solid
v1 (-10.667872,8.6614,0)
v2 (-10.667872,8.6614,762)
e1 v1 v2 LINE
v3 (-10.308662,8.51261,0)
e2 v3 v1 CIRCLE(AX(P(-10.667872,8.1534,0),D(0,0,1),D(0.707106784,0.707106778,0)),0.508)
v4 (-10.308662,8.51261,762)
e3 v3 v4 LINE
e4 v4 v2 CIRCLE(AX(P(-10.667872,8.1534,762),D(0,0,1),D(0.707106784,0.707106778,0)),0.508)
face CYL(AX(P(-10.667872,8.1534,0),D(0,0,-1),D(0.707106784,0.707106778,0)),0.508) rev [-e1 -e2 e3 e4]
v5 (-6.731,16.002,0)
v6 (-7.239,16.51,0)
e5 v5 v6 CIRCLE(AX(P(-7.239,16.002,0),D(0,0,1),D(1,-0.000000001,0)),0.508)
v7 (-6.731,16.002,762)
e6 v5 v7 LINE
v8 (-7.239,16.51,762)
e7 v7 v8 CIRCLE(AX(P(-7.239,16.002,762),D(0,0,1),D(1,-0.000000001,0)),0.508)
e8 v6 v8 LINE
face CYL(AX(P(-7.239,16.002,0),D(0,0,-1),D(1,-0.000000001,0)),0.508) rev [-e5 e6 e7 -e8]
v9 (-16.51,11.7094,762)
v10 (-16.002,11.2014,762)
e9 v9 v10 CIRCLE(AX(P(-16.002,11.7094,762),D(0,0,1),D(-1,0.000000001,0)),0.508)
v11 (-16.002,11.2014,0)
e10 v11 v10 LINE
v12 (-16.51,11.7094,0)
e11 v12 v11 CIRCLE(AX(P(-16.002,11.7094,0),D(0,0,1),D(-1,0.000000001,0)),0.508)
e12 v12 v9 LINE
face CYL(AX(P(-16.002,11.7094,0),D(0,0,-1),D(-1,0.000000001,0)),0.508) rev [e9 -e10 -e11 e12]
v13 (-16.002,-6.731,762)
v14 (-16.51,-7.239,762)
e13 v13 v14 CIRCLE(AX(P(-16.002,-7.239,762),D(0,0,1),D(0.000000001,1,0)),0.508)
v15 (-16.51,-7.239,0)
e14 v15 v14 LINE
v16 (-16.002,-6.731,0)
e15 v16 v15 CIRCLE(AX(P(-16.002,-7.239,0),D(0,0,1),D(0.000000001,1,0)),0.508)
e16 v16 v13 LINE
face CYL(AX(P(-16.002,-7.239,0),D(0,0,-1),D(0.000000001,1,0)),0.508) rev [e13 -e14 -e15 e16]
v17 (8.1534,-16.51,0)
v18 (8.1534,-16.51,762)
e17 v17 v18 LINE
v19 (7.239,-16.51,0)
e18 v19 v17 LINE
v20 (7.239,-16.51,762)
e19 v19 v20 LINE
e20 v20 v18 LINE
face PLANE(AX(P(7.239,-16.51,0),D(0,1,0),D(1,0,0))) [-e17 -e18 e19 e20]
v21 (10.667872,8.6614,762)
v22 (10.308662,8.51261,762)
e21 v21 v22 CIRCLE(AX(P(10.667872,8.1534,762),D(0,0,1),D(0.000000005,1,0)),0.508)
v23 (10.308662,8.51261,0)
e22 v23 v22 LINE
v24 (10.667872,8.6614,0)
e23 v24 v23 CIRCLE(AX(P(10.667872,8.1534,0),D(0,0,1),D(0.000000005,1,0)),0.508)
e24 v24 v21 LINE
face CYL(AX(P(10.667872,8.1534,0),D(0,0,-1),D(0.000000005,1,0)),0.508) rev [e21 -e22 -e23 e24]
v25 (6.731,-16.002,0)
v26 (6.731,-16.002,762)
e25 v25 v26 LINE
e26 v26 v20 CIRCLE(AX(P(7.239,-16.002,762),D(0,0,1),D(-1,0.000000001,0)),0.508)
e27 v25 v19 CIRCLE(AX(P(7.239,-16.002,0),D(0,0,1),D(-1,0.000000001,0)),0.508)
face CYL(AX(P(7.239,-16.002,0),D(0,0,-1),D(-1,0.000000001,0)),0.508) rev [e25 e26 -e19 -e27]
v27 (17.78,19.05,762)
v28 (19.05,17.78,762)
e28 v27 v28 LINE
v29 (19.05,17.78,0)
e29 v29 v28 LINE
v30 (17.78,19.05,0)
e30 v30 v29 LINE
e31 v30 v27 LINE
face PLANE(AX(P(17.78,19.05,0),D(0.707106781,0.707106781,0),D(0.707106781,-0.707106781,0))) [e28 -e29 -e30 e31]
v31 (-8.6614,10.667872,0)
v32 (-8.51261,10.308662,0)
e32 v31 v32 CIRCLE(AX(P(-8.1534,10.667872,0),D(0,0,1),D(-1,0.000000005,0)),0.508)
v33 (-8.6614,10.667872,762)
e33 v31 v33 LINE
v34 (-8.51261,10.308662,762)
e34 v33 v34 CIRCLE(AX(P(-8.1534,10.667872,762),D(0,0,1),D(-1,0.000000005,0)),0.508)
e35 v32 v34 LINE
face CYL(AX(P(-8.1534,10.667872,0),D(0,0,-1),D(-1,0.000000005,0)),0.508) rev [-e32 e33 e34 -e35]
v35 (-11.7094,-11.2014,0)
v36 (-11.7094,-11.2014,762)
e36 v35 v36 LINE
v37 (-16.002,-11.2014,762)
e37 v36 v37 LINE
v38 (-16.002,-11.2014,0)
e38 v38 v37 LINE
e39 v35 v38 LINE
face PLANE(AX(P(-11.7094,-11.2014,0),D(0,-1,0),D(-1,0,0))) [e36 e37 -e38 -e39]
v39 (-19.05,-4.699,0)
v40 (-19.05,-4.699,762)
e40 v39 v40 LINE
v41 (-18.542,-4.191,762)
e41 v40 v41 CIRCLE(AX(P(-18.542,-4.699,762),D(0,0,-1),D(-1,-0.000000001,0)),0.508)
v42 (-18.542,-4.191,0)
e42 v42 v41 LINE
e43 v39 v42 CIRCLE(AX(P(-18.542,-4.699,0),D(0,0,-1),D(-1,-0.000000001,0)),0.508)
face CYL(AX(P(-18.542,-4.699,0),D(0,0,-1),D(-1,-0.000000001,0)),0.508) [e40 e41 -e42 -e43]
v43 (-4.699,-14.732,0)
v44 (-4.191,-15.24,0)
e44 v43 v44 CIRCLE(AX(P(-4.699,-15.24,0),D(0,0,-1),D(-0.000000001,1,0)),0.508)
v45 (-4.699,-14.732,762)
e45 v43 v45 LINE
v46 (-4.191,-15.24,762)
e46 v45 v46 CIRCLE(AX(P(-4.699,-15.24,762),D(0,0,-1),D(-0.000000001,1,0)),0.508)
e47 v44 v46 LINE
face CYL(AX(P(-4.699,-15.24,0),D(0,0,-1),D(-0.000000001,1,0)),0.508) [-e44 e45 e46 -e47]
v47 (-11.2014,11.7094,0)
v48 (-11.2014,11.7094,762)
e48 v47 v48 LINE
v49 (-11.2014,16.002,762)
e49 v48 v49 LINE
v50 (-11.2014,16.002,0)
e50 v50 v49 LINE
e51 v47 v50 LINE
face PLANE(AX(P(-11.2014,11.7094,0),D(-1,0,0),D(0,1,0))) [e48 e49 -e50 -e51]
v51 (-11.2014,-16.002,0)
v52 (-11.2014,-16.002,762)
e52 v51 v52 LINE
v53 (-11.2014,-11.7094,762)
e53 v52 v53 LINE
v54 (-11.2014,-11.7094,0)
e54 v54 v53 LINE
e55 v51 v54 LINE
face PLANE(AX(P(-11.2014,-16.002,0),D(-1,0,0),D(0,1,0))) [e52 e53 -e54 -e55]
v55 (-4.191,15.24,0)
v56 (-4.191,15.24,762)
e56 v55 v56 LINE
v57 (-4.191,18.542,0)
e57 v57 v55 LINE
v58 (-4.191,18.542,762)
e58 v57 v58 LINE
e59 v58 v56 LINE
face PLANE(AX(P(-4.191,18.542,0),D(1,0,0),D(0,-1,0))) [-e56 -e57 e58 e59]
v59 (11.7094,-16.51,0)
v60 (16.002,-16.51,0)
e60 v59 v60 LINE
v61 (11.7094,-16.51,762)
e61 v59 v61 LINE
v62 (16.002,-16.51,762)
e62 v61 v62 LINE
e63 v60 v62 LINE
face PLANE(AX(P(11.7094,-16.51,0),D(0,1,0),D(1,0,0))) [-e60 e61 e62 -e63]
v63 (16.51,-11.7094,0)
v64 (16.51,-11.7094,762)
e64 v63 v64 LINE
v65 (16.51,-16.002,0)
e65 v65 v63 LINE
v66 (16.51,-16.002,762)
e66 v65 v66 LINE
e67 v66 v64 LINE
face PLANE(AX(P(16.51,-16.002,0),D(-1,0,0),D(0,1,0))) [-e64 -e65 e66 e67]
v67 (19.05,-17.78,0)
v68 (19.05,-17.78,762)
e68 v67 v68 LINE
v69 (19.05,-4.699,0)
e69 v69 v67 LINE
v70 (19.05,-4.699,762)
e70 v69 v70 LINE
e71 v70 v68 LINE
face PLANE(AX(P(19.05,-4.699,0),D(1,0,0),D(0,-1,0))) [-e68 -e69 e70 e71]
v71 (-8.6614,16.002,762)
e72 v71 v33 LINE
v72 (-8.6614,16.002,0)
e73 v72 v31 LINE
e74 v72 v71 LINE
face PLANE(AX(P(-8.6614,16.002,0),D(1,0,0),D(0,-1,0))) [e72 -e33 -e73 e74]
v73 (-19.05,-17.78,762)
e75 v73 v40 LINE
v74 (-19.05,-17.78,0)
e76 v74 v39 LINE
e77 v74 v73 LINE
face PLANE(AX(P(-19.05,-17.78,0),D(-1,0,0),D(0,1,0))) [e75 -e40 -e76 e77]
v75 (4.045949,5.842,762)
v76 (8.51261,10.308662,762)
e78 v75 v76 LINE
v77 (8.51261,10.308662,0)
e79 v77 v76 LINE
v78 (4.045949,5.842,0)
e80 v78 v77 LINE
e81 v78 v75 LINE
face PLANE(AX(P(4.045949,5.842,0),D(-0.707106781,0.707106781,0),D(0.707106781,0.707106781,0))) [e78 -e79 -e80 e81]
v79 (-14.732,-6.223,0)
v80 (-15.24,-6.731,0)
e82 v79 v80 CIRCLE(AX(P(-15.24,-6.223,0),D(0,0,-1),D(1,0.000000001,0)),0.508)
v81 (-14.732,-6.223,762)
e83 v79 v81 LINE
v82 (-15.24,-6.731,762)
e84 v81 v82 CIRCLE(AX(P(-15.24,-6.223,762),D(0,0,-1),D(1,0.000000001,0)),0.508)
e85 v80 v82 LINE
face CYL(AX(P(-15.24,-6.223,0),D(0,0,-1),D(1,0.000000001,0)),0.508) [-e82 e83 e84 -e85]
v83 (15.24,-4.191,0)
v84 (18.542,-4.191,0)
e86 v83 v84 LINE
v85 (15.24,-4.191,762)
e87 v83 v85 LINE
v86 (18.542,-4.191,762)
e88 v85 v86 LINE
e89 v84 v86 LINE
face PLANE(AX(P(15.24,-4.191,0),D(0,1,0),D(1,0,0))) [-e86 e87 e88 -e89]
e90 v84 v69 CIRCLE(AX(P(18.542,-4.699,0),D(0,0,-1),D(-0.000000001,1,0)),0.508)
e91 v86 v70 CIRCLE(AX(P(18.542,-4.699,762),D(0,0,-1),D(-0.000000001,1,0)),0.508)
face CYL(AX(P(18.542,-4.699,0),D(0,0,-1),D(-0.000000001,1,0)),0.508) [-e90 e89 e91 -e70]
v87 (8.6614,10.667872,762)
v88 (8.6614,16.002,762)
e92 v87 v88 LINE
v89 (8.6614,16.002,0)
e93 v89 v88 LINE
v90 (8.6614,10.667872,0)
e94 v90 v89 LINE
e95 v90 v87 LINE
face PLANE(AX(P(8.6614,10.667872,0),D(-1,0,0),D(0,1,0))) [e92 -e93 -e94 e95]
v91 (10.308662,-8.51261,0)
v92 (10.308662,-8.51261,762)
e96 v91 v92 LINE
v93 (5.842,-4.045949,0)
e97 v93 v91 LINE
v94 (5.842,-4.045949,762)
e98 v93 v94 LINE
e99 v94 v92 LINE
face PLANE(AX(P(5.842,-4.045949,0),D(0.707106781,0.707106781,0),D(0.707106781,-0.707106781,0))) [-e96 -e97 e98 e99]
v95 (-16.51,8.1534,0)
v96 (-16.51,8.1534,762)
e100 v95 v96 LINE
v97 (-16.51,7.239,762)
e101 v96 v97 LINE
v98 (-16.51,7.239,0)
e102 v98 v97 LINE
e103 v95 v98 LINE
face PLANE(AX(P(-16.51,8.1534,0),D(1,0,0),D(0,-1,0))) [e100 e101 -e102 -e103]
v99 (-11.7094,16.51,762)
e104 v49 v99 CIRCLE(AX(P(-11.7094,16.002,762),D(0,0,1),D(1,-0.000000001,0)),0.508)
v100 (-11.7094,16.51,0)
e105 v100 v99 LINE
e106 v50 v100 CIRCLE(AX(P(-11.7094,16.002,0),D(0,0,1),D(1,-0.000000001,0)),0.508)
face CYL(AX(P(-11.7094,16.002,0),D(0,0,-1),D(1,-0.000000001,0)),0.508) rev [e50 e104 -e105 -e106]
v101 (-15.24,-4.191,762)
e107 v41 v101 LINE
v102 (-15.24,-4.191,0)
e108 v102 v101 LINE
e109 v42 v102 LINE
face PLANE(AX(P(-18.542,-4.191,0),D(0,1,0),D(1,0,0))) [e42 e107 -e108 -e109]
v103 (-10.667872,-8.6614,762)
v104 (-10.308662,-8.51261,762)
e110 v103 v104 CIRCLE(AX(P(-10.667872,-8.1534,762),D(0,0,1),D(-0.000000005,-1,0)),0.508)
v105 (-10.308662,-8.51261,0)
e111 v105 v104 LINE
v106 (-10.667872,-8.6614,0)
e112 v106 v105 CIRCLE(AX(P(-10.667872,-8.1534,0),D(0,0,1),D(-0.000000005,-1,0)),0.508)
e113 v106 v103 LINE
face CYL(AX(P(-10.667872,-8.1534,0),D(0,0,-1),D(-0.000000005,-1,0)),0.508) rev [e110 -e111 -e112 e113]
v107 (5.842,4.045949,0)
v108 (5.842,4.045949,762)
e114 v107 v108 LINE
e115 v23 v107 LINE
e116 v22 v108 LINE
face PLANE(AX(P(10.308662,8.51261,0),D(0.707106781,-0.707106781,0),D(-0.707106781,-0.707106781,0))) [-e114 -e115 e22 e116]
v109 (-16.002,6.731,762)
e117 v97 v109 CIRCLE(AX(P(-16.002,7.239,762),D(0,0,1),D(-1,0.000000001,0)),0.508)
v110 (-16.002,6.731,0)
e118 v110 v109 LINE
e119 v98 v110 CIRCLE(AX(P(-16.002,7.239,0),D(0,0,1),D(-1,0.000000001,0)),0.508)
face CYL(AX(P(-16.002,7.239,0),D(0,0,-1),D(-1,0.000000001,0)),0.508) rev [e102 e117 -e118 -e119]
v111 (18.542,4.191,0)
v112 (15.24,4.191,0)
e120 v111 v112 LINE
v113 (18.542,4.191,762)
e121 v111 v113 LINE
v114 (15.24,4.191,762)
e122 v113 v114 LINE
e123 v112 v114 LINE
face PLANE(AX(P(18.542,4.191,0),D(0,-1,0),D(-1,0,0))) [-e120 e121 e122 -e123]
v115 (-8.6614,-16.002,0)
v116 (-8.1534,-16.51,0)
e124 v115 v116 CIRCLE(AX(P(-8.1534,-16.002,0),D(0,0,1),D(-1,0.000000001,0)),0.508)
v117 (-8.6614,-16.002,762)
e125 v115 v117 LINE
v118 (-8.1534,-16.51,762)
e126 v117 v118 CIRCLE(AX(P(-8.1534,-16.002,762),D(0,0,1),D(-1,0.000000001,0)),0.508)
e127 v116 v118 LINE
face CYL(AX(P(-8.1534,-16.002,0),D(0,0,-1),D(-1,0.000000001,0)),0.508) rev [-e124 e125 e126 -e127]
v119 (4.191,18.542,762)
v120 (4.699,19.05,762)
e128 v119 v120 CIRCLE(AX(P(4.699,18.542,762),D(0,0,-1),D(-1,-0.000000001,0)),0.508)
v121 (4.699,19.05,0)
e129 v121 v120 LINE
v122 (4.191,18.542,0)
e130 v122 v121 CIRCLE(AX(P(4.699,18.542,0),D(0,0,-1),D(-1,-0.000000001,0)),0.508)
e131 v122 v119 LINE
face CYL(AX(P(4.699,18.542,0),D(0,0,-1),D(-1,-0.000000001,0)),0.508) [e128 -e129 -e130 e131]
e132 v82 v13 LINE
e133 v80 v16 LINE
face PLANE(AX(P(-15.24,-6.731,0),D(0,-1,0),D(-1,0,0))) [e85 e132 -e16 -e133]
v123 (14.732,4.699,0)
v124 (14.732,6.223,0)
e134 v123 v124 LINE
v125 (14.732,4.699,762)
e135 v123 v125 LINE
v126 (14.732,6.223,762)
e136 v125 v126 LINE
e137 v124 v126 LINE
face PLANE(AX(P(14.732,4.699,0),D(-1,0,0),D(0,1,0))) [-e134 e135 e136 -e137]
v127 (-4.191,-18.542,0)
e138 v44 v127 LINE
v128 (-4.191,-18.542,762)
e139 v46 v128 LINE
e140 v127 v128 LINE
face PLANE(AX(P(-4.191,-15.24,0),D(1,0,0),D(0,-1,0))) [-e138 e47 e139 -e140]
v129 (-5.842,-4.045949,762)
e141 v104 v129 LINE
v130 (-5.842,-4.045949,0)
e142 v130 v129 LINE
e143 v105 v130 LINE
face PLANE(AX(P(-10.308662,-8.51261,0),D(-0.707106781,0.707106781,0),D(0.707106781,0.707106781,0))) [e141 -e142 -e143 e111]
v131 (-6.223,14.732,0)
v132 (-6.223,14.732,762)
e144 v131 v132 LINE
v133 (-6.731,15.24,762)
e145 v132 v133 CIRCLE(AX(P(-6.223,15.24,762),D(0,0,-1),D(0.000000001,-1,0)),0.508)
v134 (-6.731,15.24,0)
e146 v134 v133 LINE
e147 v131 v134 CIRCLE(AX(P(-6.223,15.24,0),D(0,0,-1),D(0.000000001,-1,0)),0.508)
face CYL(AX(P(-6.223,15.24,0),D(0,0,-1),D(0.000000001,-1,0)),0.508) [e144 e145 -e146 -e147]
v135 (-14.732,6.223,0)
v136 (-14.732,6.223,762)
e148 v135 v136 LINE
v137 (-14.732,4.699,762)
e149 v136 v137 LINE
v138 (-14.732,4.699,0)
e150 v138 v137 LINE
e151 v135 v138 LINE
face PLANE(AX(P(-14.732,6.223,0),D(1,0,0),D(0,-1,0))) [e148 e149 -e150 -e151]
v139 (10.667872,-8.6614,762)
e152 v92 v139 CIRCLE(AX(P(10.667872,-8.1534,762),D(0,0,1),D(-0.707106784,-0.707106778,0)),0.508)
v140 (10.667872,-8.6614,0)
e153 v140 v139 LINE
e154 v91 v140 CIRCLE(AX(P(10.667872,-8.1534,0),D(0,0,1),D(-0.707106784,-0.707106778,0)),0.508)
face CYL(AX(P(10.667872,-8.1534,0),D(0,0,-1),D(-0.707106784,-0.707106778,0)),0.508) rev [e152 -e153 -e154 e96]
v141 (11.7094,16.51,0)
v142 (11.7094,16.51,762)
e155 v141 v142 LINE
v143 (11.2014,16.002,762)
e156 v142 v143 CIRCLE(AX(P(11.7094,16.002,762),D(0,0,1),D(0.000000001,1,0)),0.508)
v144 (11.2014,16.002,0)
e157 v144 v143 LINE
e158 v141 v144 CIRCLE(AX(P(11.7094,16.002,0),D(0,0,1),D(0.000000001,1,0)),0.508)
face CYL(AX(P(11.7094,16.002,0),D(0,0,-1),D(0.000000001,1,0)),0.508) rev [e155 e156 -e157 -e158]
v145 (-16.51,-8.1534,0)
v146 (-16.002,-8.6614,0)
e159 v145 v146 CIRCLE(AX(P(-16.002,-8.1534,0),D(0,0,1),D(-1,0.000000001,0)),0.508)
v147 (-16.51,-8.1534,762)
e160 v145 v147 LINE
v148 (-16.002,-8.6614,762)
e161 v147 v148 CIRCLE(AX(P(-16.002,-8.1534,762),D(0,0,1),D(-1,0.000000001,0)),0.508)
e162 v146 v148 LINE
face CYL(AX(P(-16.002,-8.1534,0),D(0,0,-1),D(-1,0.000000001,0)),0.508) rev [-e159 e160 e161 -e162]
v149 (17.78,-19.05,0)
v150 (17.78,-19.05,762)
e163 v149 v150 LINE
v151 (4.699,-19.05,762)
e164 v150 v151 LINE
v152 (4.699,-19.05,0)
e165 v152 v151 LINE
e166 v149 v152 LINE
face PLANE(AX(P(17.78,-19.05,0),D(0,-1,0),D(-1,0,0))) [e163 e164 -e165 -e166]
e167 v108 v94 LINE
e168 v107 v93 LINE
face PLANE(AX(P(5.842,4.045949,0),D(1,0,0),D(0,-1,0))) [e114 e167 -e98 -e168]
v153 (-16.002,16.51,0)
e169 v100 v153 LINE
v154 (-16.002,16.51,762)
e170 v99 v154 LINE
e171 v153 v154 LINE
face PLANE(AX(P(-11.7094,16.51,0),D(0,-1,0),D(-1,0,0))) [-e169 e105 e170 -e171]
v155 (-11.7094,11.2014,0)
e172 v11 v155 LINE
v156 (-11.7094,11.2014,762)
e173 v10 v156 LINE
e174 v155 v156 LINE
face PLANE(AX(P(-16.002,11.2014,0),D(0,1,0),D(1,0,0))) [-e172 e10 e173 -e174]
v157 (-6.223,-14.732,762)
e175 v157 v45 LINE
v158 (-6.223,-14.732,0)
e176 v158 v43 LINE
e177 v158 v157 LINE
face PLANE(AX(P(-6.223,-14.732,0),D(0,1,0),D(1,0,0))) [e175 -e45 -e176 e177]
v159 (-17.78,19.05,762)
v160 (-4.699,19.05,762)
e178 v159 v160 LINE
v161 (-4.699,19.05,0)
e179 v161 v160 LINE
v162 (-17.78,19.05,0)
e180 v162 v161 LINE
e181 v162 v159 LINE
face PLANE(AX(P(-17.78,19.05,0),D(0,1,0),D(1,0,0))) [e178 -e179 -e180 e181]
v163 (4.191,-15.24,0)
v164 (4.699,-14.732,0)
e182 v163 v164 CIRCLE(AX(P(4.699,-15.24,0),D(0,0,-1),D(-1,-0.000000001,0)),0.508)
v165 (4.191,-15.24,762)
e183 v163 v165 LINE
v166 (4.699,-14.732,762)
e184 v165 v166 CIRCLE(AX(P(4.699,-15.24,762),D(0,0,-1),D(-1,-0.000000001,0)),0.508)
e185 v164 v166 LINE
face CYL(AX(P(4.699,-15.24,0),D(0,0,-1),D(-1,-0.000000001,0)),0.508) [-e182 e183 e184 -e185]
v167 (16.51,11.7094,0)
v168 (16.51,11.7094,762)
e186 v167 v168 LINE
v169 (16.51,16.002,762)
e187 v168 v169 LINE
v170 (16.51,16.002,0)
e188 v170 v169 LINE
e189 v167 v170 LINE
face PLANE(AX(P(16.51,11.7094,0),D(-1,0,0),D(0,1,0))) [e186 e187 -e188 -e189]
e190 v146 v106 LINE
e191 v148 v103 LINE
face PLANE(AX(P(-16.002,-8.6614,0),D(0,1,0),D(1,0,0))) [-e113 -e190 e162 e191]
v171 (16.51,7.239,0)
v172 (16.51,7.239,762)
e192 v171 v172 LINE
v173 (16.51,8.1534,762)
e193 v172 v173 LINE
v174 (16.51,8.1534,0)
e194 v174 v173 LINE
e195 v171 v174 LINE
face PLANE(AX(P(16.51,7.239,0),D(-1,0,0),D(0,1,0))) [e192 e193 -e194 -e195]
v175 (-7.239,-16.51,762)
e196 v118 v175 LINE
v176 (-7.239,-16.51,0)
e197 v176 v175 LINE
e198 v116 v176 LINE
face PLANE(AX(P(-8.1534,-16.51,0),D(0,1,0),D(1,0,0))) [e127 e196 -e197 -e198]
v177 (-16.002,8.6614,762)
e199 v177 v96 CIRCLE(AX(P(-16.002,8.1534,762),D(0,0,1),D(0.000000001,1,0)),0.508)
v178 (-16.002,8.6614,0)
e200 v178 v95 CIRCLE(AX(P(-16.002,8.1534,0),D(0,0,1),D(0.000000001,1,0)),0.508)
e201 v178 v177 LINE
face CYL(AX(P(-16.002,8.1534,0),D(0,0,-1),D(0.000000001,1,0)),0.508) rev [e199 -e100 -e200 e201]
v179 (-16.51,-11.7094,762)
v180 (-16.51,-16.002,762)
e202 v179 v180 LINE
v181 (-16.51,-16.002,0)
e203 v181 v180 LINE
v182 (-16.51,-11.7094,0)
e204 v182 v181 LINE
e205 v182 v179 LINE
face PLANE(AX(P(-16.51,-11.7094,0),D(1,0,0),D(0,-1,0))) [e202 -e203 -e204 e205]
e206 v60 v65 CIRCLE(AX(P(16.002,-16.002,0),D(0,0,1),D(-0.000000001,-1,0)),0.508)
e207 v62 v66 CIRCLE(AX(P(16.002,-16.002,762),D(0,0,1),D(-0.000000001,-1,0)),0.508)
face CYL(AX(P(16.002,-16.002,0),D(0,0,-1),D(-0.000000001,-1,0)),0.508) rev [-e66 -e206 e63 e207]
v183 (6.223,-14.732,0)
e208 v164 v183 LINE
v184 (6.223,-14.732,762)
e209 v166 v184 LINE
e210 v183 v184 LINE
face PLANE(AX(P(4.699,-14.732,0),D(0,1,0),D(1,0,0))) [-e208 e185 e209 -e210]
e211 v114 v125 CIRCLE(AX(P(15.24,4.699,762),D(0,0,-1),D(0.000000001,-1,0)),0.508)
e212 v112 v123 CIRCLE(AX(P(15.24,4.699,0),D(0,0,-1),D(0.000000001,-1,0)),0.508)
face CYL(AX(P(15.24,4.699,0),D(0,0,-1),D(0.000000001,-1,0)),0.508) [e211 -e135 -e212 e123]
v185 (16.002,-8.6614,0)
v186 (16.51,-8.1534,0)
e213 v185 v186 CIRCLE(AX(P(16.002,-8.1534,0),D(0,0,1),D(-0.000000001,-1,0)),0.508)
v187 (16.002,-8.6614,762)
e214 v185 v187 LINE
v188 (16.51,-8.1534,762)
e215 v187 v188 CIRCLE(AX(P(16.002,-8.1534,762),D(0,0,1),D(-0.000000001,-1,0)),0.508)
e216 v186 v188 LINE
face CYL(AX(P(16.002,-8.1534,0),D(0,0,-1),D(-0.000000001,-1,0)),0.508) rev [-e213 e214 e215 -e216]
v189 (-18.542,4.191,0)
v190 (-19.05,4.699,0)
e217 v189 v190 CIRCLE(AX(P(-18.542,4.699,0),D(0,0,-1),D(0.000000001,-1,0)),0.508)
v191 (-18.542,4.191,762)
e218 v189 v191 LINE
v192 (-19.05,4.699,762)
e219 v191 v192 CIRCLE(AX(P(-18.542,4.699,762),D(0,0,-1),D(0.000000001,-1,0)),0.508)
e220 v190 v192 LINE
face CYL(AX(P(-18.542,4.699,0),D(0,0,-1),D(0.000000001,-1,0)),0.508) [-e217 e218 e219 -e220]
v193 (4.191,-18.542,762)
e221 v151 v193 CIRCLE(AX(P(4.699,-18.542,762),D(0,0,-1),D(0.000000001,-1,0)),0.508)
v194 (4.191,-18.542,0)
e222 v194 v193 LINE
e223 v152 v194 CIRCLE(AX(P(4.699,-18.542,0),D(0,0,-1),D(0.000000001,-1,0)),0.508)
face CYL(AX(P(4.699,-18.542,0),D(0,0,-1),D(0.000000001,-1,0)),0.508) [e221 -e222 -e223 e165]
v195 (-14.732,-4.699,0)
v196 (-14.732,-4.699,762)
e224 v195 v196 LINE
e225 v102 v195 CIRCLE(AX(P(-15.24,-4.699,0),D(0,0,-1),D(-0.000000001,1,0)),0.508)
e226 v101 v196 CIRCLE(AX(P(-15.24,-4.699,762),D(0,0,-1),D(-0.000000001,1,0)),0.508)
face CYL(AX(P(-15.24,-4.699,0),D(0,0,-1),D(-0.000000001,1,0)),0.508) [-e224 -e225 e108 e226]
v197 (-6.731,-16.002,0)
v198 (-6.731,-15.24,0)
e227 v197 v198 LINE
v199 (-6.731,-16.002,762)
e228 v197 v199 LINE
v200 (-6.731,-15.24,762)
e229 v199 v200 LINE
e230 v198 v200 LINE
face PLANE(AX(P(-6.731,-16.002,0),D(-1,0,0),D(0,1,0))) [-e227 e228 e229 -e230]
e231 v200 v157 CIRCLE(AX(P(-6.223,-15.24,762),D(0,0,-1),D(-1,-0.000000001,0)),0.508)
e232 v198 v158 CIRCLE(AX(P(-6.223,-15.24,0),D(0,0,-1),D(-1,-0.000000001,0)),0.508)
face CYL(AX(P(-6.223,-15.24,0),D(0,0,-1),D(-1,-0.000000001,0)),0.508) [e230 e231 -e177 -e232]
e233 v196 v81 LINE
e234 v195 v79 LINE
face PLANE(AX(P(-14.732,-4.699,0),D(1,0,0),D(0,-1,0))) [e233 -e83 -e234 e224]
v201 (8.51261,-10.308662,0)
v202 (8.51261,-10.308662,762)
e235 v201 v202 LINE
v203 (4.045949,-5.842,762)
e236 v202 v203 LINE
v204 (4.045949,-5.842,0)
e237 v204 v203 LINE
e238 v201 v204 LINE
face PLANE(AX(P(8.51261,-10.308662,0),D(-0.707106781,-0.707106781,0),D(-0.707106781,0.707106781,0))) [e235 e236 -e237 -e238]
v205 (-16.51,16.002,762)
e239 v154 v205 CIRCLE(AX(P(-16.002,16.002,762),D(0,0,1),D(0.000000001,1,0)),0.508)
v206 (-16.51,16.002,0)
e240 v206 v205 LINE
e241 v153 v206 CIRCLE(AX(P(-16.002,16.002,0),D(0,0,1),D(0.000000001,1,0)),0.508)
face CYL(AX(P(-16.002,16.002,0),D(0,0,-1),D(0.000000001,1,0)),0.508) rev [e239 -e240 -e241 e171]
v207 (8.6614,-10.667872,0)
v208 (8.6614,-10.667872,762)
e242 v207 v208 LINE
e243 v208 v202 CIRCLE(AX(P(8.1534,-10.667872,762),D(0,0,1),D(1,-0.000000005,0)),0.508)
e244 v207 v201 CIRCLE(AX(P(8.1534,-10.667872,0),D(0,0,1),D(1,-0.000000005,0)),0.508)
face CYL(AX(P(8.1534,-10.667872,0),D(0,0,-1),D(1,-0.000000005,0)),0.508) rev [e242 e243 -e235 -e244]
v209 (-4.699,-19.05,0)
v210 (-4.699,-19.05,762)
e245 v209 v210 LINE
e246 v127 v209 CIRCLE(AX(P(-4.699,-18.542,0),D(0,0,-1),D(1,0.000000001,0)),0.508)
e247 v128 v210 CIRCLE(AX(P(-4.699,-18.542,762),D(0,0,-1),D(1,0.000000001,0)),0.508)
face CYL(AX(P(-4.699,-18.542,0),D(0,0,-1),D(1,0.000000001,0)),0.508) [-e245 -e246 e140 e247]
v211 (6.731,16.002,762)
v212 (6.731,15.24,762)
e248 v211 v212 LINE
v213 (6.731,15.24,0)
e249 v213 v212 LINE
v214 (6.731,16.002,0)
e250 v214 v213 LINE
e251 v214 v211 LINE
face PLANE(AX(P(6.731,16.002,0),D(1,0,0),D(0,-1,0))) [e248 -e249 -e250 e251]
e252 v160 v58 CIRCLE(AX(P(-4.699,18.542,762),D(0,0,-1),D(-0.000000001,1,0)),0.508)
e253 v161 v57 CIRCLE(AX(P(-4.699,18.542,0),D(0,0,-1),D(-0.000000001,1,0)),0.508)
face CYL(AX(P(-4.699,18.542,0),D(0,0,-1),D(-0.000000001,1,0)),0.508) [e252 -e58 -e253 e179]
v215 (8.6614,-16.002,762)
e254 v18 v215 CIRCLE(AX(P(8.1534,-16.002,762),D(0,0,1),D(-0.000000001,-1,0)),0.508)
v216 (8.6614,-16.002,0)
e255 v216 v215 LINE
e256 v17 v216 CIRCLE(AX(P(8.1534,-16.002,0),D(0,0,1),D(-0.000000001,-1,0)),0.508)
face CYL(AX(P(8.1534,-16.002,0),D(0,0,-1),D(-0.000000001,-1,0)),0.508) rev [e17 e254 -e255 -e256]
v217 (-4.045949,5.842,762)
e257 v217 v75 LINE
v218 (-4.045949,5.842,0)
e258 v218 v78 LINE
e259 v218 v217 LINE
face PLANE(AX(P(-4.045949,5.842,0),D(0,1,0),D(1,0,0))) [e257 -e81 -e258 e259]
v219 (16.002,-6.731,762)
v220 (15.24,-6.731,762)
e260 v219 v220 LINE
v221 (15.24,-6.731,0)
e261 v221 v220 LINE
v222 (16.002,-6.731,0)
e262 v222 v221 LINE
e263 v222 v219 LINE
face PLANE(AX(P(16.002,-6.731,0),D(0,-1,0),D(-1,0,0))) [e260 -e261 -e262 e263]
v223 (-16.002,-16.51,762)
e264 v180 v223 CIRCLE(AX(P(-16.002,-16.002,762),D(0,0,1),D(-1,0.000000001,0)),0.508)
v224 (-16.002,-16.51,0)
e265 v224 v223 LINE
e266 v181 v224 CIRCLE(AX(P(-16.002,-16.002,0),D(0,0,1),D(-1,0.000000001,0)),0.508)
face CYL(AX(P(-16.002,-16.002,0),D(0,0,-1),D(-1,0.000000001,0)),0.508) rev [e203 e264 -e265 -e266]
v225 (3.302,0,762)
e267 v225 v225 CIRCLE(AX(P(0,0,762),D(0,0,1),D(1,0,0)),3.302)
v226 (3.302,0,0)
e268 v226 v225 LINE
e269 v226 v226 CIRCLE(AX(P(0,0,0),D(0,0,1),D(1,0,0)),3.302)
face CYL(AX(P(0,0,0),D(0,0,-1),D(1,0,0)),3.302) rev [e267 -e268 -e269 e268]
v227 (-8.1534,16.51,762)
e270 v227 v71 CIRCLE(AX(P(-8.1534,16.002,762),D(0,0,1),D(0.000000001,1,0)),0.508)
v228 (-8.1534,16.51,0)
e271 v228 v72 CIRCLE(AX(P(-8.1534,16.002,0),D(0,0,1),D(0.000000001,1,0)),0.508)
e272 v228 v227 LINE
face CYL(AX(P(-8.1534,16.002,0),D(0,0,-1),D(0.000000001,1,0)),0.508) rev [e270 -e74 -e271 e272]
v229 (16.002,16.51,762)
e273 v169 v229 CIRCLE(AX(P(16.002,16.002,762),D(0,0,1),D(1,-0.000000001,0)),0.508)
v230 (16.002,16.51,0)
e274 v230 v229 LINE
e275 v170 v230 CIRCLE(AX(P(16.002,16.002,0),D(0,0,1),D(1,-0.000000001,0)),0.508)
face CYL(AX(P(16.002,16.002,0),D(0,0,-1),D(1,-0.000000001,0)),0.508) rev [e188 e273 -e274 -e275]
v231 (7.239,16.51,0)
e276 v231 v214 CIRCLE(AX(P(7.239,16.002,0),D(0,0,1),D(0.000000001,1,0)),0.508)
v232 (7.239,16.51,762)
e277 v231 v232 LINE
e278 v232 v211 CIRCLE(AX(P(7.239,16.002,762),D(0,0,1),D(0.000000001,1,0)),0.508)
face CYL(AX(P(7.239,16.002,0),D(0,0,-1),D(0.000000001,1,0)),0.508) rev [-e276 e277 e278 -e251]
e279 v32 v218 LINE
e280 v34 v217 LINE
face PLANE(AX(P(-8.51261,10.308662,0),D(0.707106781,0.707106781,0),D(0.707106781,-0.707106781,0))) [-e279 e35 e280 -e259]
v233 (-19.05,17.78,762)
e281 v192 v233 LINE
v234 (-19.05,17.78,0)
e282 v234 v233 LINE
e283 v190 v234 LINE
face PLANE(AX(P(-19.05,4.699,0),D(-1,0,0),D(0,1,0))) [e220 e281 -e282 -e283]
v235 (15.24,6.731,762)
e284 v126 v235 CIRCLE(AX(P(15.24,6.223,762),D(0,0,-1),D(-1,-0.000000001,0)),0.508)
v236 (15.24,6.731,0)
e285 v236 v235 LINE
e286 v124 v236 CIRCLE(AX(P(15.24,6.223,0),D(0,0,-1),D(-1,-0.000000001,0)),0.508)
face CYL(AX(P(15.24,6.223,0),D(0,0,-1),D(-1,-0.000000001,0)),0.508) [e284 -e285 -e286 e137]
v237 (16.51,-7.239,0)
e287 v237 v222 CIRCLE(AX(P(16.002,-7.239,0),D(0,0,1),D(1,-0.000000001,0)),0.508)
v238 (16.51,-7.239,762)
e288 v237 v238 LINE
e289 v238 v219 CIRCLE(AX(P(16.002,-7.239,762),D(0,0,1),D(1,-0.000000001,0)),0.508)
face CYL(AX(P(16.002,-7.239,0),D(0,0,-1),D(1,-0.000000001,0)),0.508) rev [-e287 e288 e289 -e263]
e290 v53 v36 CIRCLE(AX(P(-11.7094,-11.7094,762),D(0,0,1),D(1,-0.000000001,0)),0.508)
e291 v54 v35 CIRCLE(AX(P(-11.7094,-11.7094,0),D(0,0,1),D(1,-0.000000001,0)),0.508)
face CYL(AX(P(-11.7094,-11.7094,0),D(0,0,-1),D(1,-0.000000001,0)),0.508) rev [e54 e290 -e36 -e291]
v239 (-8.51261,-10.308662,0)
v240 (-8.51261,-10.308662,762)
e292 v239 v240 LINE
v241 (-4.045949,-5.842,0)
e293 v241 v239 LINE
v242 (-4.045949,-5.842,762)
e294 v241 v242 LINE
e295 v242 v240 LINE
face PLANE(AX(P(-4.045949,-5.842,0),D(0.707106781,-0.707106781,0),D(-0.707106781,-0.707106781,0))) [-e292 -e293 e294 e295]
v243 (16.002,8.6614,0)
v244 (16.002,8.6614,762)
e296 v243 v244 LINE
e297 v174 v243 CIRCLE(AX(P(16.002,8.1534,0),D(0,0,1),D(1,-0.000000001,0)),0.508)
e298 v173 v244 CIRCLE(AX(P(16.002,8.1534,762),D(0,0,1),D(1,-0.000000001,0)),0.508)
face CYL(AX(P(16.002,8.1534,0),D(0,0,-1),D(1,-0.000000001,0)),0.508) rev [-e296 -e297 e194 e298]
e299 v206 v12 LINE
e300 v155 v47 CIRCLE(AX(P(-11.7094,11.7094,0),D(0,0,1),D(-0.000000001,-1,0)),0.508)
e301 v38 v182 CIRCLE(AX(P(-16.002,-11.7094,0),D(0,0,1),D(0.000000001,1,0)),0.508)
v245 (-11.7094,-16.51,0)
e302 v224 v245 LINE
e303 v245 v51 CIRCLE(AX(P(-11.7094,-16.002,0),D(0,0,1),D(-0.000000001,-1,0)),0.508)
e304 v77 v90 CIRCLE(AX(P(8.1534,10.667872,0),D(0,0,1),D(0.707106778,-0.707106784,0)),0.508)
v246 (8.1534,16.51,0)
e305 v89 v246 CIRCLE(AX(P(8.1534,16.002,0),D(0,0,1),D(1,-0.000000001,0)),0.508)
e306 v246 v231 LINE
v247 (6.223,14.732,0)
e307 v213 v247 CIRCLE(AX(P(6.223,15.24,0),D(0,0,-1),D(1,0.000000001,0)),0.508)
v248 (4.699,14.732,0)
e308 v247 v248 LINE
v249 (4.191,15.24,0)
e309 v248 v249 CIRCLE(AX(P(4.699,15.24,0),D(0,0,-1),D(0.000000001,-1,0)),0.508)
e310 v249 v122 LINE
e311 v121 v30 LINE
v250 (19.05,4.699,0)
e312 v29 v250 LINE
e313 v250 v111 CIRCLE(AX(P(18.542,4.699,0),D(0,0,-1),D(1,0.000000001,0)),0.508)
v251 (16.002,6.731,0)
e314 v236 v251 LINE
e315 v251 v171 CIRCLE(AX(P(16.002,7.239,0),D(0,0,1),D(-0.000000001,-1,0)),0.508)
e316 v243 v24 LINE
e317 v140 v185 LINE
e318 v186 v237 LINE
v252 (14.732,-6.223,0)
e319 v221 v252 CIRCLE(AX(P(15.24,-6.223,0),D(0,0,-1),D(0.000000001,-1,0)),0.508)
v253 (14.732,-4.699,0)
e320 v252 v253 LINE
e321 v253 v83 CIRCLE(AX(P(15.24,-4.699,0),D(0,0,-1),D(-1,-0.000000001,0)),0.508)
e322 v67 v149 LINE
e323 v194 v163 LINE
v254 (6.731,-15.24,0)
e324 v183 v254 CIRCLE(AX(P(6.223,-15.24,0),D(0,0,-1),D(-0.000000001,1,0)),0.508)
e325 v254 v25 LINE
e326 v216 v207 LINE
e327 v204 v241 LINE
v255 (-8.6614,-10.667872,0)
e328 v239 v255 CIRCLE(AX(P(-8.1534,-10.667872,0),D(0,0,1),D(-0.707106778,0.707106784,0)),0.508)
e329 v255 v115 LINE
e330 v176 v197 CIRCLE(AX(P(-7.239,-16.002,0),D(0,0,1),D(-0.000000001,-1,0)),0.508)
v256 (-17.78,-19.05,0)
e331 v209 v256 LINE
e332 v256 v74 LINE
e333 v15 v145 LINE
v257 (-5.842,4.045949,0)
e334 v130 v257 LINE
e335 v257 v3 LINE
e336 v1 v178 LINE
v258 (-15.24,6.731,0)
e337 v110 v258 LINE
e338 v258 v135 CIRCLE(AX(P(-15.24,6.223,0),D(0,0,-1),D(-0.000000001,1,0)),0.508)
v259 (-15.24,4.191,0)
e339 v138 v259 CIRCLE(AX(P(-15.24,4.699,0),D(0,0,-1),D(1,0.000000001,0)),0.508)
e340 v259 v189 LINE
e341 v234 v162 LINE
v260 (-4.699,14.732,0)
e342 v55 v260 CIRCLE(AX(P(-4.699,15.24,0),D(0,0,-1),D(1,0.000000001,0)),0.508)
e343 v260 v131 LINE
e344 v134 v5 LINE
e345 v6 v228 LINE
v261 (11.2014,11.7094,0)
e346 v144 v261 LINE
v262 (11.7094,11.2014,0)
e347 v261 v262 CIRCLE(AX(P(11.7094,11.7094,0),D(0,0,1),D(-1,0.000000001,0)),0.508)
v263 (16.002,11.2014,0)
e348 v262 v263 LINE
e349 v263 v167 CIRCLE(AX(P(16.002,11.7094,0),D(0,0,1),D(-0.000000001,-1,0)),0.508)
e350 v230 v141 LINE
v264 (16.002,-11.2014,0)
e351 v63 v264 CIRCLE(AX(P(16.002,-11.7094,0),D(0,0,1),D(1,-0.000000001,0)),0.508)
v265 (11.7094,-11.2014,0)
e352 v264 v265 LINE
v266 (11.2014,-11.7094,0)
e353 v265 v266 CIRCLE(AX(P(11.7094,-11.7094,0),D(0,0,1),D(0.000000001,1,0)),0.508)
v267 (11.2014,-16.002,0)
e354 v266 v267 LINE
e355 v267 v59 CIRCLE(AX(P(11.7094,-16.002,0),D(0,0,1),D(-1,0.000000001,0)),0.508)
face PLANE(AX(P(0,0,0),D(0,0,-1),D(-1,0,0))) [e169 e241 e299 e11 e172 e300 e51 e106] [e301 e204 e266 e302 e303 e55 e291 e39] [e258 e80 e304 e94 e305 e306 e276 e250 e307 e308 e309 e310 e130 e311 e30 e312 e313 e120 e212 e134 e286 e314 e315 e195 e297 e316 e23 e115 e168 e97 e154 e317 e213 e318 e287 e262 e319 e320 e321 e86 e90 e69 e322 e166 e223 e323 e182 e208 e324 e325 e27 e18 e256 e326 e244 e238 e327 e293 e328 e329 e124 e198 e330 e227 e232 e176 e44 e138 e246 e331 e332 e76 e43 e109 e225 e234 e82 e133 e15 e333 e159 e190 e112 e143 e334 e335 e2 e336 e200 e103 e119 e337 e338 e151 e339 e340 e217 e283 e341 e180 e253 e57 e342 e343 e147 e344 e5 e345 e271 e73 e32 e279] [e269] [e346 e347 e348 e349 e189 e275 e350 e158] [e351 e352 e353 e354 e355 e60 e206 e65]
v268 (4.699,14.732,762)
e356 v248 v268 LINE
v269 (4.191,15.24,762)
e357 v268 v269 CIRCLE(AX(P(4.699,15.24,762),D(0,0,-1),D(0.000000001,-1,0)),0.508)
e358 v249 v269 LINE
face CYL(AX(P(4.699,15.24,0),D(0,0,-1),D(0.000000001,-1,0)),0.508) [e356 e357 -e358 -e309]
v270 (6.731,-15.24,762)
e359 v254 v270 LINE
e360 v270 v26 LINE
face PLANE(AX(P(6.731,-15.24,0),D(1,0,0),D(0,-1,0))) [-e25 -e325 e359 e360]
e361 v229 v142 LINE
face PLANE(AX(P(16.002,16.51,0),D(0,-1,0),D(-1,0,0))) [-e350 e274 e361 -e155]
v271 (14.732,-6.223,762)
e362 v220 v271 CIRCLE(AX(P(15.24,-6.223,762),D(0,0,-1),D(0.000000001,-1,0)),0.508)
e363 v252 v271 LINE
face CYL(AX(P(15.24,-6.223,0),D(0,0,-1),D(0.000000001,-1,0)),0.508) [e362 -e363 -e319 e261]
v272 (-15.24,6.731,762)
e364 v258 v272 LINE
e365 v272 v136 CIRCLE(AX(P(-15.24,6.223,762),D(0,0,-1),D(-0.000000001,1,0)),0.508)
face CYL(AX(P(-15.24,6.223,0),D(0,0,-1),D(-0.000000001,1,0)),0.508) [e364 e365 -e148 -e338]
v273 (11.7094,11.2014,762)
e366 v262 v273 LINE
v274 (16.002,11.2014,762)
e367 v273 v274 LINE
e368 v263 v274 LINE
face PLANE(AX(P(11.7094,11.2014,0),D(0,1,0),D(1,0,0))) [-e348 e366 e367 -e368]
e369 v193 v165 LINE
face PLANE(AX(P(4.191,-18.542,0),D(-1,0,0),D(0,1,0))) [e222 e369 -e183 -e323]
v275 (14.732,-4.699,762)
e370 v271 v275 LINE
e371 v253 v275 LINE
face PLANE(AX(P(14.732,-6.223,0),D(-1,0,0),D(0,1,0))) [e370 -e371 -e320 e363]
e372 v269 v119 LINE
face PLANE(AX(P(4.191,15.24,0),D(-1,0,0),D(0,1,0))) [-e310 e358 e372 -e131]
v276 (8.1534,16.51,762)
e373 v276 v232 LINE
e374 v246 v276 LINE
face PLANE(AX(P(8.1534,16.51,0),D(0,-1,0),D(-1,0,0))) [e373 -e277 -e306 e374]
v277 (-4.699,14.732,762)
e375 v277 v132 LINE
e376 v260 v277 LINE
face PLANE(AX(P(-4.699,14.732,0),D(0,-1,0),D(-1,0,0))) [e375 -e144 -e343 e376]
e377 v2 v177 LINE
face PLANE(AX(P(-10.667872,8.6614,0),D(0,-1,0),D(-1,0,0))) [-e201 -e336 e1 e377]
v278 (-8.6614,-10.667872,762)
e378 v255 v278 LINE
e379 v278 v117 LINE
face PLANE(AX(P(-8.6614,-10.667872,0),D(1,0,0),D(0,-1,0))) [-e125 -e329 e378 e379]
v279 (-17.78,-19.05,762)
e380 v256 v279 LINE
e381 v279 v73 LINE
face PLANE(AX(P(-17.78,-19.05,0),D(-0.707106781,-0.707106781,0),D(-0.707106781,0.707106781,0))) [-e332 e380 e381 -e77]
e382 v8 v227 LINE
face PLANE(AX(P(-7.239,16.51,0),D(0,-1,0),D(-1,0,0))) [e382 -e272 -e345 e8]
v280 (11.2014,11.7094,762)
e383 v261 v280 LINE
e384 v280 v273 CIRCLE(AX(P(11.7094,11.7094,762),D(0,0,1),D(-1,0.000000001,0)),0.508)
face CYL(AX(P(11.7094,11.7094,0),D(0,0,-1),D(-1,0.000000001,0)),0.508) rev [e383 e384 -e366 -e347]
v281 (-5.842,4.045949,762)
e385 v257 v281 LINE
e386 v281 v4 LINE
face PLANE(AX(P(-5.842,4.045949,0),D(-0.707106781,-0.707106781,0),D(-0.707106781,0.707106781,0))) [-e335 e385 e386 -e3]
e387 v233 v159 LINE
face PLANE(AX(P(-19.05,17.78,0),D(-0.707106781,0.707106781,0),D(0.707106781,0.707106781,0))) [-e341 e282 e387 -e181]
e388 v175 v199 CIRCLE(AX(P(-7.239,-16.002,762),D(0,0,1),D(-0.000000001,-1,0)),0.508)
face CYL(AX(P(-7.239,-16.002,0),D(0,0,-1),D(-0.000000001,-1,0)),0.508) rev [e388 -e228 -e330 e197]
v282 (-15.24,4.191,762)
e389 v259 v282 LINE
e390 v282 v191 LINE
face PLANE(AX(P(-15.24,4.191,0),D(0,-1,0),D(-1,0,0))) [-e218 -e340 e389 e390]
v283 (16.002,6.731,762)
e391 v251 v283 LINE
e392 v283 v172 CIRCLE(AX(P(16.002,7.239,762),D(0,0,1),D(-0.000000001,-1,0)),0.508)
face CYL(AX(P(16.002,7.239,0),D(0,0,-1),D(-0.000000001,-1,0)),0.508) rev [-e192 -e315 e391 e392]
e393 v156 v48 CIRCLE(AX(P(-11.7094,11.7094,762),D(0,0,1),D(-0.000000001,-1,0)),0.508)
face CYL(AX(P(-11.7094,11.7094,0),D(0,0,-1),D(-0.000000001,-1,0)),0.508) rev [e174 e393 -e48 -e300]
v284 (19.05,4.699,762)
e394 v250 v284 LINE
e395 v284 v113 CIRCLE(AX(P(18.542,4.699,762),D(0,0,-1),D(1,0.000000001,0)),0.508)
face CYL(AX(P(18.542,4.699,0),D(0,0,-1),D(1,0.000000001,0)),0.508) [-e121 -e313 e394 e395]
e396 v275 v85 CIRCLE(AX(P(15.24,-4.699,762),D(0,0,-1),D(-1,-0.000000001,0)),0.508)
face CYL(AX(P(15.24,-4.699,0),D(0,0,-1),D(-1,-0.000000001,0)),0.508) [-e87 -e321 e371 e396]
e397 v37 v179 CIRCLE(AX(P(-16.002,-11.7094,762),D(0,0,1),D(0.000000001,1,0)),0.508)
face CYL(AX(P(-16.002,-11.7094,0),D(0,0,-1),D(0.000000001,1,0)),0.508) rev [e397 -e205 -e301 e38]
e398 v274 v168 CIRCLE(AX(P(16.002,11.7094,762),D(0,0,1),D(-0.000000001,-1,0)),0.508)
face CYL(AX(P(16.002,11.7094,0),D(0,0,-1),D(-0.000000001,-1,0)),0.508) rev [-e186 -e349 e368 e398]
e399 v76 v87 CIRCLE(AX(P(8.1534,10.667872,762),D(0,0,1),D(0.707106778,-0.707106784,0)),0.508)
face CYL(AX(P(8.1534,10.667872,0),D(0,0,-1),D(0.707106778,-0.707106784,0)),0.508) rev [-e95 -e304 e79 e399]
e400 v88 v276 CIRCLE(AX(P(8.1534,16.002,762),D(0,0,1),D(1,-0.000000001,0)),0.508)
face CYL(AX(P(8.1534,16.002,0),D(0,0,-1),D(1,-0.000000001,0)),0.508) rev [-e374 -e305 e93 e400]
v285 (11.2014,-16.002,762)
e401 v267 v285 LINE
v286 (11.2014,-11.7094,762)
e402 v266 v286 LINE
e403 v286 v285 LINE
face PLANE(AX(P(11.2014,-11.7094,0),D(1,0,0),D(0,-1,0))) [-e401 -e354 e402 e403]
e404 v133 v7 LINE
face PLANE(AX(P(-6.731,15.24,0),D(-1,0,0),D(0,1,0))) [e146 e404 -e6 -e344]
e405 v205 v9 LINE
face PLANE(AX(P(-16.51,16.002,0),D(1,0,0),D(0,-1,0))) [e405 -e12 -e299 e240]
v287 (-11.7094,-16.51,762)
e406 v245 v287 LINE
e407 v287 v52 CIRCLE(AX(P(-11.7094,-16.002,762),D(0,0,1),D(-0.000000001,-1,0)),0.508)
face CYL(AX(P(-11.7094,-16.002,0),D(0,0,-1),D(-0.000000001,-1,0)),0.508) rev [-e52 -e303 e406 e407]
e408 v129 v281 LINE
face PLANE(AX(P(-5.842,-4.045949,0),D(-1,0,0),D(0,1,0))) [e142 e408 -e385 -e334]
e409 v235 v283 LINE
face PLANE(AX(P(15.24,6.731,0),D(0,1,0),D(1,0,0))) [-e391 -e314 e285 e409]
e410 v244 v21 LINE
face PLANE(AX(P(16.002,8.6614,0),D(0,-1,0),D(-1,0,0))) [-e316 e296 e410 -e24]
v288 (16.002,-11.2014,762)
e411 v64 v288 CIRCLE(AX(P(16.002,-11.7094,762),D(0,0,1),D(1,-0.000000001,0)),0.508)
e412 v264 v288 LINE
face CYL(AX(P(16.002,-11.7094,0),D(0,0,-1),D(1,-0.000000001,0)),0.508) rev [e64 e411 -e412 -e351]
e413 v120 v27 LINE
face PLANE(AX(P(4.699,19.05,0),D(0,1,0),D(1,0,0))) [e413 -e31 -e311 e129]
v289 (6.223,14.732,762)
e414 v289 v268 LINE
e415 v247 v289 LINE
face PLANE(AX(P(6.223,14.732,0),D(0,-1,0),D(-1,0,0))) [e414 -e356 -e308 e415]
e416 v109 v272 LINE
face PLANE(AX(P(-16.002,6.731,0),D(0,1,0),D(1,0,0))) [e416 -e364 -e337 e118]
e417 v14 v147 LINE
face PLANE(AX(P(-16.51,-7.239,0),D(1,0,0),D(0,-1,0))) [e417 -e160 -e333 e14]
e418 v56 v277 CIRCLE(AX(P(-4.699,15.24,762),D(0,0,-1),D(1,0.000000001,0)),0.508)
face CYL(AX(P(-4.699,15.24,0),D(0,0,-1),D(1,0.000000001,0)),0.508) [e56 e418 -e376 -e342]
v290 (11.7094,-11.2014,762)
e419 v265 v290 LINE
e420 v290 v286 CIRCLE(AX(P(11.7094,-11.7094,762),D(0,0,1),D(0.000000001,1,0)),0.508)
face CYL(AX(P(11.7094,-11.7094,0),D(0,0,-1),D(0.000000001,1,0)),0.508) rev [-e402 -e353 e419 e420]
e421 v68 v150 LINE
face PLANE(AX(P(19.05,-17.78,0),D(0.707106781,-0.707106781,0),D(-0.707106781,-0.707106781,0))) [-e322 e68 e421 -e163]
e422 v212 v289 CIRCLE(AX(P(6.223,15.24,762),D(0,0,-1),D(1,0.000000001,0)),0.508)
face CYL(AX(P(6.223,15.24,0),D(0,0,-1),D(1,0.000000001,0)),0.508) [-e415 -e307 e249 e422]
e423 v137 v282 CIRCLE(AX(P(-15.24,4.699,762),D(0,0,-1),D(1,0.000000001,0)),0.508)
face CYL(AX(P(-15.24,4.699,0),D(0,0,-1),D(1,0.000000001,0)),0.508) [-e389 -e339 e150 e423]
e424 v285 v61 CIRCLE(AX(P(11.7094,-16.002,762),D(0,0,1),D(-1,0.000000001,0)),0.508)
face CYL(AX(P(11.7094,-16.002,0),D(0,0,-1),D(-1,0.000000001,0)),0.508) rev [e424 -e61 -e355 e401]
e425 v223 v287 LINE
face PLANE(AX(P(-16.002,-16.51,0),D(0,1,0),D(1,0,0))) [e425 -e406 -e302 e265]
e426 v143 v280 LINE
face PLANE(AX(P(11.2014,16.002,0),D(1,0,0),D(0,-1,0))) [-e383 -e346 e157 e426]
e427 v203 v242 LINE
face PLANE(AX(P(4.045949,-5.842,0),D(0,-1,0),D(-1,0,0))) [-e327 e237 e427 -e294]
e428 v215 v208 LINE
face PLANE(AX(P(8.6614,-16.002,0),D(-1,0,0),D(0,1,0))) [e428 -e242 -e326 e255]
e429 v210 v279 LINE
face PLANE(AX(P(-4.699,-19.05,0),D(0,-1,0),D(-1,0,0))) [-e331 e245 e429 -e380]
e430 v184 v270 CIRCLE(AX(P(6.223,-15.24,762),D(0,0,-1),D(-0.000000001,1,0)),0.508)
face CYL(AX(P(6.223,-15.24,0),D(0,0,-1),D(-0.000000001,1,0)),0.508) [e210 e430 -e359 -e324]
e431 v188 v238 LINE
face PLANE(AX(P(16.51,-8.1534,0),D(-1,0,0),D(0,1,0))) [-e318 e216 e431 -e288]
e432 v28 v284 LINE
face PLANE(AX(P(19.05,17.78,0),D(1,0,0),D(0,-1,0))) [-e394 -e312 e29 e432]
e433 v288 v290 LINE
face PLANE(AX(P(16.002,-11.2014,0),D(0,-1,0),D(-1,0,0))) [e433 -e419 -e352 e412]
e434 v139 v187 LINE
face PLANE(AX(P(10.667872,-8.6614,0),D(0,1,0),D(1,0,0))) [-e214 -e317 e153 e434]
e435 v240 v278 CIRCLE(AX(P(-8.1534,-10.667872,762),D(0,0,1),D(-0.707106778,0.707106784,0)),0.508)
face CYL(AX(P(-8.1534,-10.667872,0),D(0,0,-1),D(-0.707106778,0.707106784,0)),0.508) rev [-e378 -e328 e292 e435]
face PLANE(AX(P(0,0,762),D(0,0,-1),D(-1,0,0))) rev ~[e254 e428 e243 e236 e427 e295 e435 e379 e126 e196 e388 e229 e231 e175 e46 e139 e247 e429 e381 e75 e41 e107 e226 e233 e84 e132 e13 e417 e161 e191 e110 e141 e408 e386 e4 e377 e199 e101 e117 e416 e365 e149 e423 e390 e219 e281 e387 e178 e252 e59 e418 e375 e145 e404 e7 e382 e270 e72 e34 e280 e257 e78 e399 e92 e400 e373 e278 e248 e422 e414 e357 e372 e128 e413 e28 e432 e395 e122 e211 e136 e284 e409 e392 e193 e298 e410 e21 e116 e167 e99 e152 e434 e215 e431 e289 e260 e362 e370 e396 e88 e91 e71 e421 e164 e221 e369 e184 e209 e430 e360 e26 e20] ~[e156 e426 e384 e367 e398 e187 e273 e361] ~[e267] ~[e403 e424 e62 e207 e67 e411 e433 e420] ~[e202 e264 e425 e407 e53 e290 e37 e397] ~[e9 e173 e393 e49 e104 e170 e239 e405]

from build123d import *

# Parameters (mm, degrees)
SKETCH1_R      = 3.302
EXTRUDE1_DEPTH = 762


with BuildPart() as part:
    # Sketch1 → Extrude1 (new body)
    with BuildSketch(Plane.XY):
        with BuildLine():
            Line((4.699, 19.05), (17.78, 19.05))
            Line((17.78, 19.05), (19.05, 17.78))
            Line((19.05, 17.78), (19.05, 4.699))
            ThreePointArc((19.05, 4.699), (18.901210245, 4.339789755), (18.542, 4.191))
            Line((18.542, 4.191), (15.24, 4.191))
            ThreePointArc((15.24, 4.191), (14.880789755, 4.339789755), (14.732, 4.699))
            Line((14.732, 4.699), (14.732, 6.223))
            ThreePointArc((14.732, 6.223), (14.880789755, 6.582210245), (15.24, 6.731))
            Line((15.24, 6.731), (16.002, 6.731))
            ThreePointArc((16.002, 6.731), (16.361210245, 6.879789755), (16.51, 7.239))
            Line((16.51, 7.239), (16.51, 8.1534))
            ThreePointArc((16.51, 8.1534), (16.361210245, 8.512610245), (16.002, 8.6614))
            Line((16.002, 8.6614), (10.667871762, 8.6614))
            ThreePointArc((10.667871762, 8.6614), (10.473468578, 8.622730803), (10.308661517, 8.512610245))
            Line((10.308661517, 8.512610245), (5.842, 4.045948728))
            Line((5.842, 4.045948728), (5.842, -4.045948728))
            Line((5.842, -4.045948728), (10.308661517, -8.512610245))
            ThreePointArc((10.308661517, -8.512610245), (10.473468578, -8.622730803), (10.667871762, -8.6614))
            Line((10.667871762, -8.6614), (16.002, -8.6614))
            ThreePointArc((16.002, -8.6614), (16.361210245, -8.512610245), (16.51, -8.1534))
            Line((16.51, -8.1534), (16.51, -7.239))
            ThreePointArc((16.51, -7.239), (16.361210245, -6.879789755), (16.002, -6.731))
            Line((16.002, -6.731), (15.24, -6.731))
            ThreePointArc((15.24, -6.731), (14.880789755, -6.582210245), (14.732, -6.223))
            Line((14.732, -6.223), (14.732, -4.699))
            ThreePointArc((14.732, -4.699), (14.880789755, -4.339789755), (15.24, -4.191))
            Line((15.24, -4.191), (18.542, -4.191))
            ThreePointArc((18.542, -4.191), (18.901210245, -4.339789755), (19.05, -4.699))
            Line((19.05, -4.699), (19.05, -17.78))
            Line((19.05, -17.78), (17.78, -19.05))
            Line((17.78, -19.05), (4.699, -19.05))
            ThreePointArc((4.699, -19.05), (4.339789755, -18.901210245), (4.191, -18.542))
            Line((4.191, -18.542), (4.191, -15.24))
            ThreePointArc((4.191, -15.24), (4.339789755, -14.880789755), (4.699, -14.732))
            Line((4.699, -14.732), (6.223, -14.732))
            ThreePointArc((6.223, -14.732), (6.582210245, -14.880789755), (6.731, -15.24))
            Line((6.731, -15.24), (6.731, -16.002))
            ThreePointArc((6.731, -16.002), (6.879789755, -16.361210245), (7.239, -16.51))
            Line((7.239, -16.51), (8.1534, -16.51))
            ThreePointArc((8.1534, -16.51), (8.512610245, -16.361210245), (8.6614, -16.002))
            Line((8.6614, -16.002), (8.6614, -10.667871762))
            ThreePointArc((8.6614, -10.667871762), (8.622730803, -10.473468578), (8.512610245, -10.308661517))
            Line((8.512610245, -10.308661517), (4.045948728, -5.842))
            Line((4.045948728, -5.842), (-4.045948728, -5.842))
            Line((-4.045948728, -5.842), (-8.512610245, -10.308661517))
            ThreePointArc((-8.512610245, -10.308661517), (-8.622730803, -10.473468578), (-8.6614, -10.667871762))
            Line((-8.6614, -10.667871762), (-8.6614, -16.002))
            ThreePointArc((-8.6614, -16.002), (-8.512610245, -16.361210245), (-8.1534, -16.51))
            Line((-8.1534, -16.51), (-7.239, -16.51))
            ThreePointArc((-7.239, -16.51), (-6.879789755, -16.361210245), (-6.731, -16.002))
            Line((-6.731, -16.002), (-6.731, -15.24))
            ThreePointArc((-6.731, -15.24), (-6.582210245, -14.880789755), (-6.223, -14.732))
            Line((-6.223, -14.732), (-4.699, -14.732))
            ThreePointArc((-4.699, -14.732), (-4.339789755, -14.880789755), (-4.191, -15.24))
            Line((-4.191, -15.24), (-4.191, -18.542))
            ThreePointArc((-4.191, -18.542), (-4.339789755, -18.901210245), (-4.699, -19.05))
            Line((-4.699, -19.05), (-17.78, -19.05))
            Line((-17.78, -19.05), (-19.05, -17.78))
            Line((-19.05, -17.78), (-19.05, -4.699))
            ThreePointArc((-19.05, -4.699), (-18.901210245, -4.339789755), (-18.542, -4.191))
            Line((-18.542, -4.191), (-15.24, -4.191))
            ThreePointArc((-15.24, -4.191), (-14.880789755, -4.339789755), (-14.732, -4.699))
            Line((-14.732, -4.699), (-14.732, -6.223))
            ThreePointArc((-14.732, -6.223), (-14.880789755, -6.582210245), (-15.24, -6.731))
            Line((-15.24, -6.731), (-16.002, -6.731))
            ThreePointArc((-16.002, -6.731), (-16.361210245, -6.879789755), (-16.51, -7.239))
            Line((-16.51, -7.239), (-16.51, -8.1534))
            ThreePointArc((-16.51, -8.1534), (-16.361210245, -8.512610245), (-16.002, -8.6614))
            Line((-16.002, -8.6614), (-10.667871762, -8.6614))
            ThreePointArc((-10.667871762, -8.6614), (-10.473468578, -8.622730803), (-10.308661517, -8.512610245))
            Line((-10.308661517, -8.512610245), (-5.842, -4.045948728))
            Line((-5.842, -4.045948728), (-5.842, 4.045948728))
            Line((-5.842, 4.045948728), (-10.308661517, 8.512610245))
            ThreePointArc((-10.308661517, 8.512610245), (-10.473468578, 8.622730803), (-10.667871762, 8.6614))
            Line((-10.667871762, 8.6614), (-16.002, 8.6614))
            ThreePointArc((-16.002, 8.6614), (-16.361210245, 8.512610245), (-16.51, 8.1534))
            Line((-16.51, 8.1534), (-16.51, 7.239))
            ThreePointArc((-16.51, 7.239), (-16.361210245, 6.879789755), (-16.002, 6.731))
            Line((-16.002, 6.731), (-15.24, 6.731))
            ThreePointArc((-15.24, 6.731), (-14.880789755, 6.582210245), (-14.732, 6.223))
            Line((-14.732, 6.223), (-14.732, 4.699))
            ThreePointArc((-14.732, 4.699), (-14.880789755, 4.339789755), (-15.24, 4.191))
            Line((-15.24, 4.191), (-18.542, 4.191))
            ThreePointArc((-18.542, 4.191), (-18.901210245, 4.339789755), (-19.05, 4.699))
            Line((-19.05, 4.699), (-19.05, 17.78))
            Line((-19.05, 17.78), (-17.78, 19.05))
            Line((-17.78, 19.05), (-4.699, 19.05))
            ThreePointArc((-4.699, 19.05), (-4.339789755, 18.901210245), (-4.191, 18.542))
            Line((-4.191, 18.542), (-4.191, 15.24))
            ThreePointArc((-4.191, 15.24), (-4.339789755, 14.880789755), (-4.699, 14.732))
            Line((-4.699, 14.732), (-6.223, 14.732))
            ThreePointArc((-6.223, 14.732), (-6.582210245, 14.880789755), (-6.731, 15.24))
            Line((-6.731, 15.24), (-6.731, 16.002))
            ThreePointArc((-6.731, 16.002), (-6.879789755, 16.361210245), (-7.239, 16.51))
            Line((-7.239, 16.51), (-8.1534, 16.51))
            ThreePointArc((-8.1534, 16.51), (-8.512610245, 16.361210245), (-8.6614, 16.002))
            Line((-8.6614, 16.002), (-8.6614, 10.667871762))
            ThreePointArc((-8.6614, 10.667871762), (-8.622730803, 10.473468578), (-8.512610245, 10.308661517))
            Line((-8.512610245, 10.308661517), (-4.045948728, 5.842))
            Line((-4.045948728, 5.842), (4.045948728, 5.842))
            Line((4.045948728, 5.842), (8.512610245, 10.308661517))
            ThreePointArc((8.512610245, 10.308661517), (8.622730803, 10.473468578), (8.6614, 10.667871762))
            Line((8.6614, 10.667871762), (8.6614, 16.002))
            ThreePointArc((8.6614, 16.002), (8.512610245, 16.361210245), (8.1534, 16.51))
            Line((8.1534, 16.51), (7.239, 16.51))
            ThreePointArc((7.239, 16.51), (6.879789755, 16.361210245), (6.731, 16.002))
            Line((6.731, 16.002), (6.731, 15.24))
            ThreePointArc((6.731, 15.24), (6.582210245, 14.880789755), (6.223, 14.732))
            Line((6.223, 14.732), (4.699, 14.732))
            ThreePointArc((4.699, 14.732), (4.339789755, 14.880789755), (4.191, 15.24))
            Line((4.191, 15.24), (4.191, 18.542))
            ThreePointArc((4.191, 18.542), (4.339789755, 18.901210245), (4.699, 19.05))
        make_face()
        Circle(SKETCH1_R, mode=Mode.SUBTRACT)
        with BuildLine():
            Line((11.2014, 16.002), (11.2014, 11.7094))
            ThreePointArc((11.2014, 11.7094), (11.350189755, 11.350189755), (11.7094, 11.2014))
            Line((11.7094, 11.2014), (16.002, 11.2014))
            ThreePointArc((16.002, 11.2014), (16.361210245, 11.350189755), (16.51, 11.7094))
            Line((16.51, 11.7094), (16.51, 16.002))
            ThreePointArc((16.51, 16.002), (16.361210245, 16.361210245), (16.002, 16.51))
            Line((16.002, 16.51), (11.7094, 16.51))
            ThreePointArc((11.7094, 16.51), (11.350189755, 16.361210245), (11.2014, 16.002))
        make_face(mode=Mode.SUBTRACT)
        with BuildLine():
            Line((-16.002, 11.2014), (-11.7094, 11.2014))
            ThreePointArc((-11.7094, 11.2014), (-11.350189755, 11.350189755), (-11.2014, 11.7094))
            Line((-11.2014, 11.7094), (-11.2014, 16.002))
            ThreePointArc((-11.2014, 16.002), (-11.350189755, 16.361210245), (-11.7094, 16.51))
            Line((-11.7094, 16.51), (-16.002, 16.51))
            ThreePointArc((-16.002, 16.51), (-16.361210245, 16.361210245), (-16.51, 16.002))
            Line((-16.51, 16.002), (-16.51, 11.7094))
            ThreePointArc((-16.51, 11.7094), (-16.361210245, 11.350189755), (-16.002, 11.2014))
        make_face(mode=Mode.SUBTRACT)
        with BuildLine():
            Line((-11.2014, -16.002), (-11.2014, -11.7094))
            ThreePointArc((-11.2014, -11.7094), (-11.350189755, -11.350189755), (-11.7094, -11.2014))
            Line((-11.7094, -11.2014), (-16.002, -11.2014))
            ThreePointArc((-16.002, -11.2014), (-16.361210245, -11.350189755), (-16.51, -11.7094))
            Line((-16.51, -11.7094), (-16.51, -16.002))
            ThreePointArc((-16.51, -16.002), (-16.361210245, -16.361210245), (-16.002, -16.51))
            Line((-16.002, -16.51), (-11.7094, -16.51))
            ThreePointArc((-11.7094, -16.51), (-11.350189755, -16.361210245), (-11.2014, -16.002))
        make_face(mode=Mode.SUBTRACT)
        with BuildLine():
            Line((16.002, -11.2014), (11.7094, -11.2014))
            ThreePointArc((11.7094, -11.2014), (11.350189755, -11.350189755), (11.2014, -11.7094))
            Line((11.2014, -11.7094), (11.2014, -16.002))
            ThreePointArc((11.2014, -16.002), (11.350189755, -16.361210245), (11.7094, -16.51))
            Line((11.7094, -16.51), (16.002, -16.51))
            ThreePointArc((16.002, -16.51), (16.361210245, -16.361210245), (16.51, -16.002))
            Line((16.51, -16.002), (16.51, -11.7094))
            ThreePointArc((16.51, -11.7094), (16.361210245, -11.350189755), (16.002, -11.2014))
        make_face(mode=Mode.SUBTRACT)
    extrude(amount=EXTRUDE1_DEPTH)


solid = part.part
